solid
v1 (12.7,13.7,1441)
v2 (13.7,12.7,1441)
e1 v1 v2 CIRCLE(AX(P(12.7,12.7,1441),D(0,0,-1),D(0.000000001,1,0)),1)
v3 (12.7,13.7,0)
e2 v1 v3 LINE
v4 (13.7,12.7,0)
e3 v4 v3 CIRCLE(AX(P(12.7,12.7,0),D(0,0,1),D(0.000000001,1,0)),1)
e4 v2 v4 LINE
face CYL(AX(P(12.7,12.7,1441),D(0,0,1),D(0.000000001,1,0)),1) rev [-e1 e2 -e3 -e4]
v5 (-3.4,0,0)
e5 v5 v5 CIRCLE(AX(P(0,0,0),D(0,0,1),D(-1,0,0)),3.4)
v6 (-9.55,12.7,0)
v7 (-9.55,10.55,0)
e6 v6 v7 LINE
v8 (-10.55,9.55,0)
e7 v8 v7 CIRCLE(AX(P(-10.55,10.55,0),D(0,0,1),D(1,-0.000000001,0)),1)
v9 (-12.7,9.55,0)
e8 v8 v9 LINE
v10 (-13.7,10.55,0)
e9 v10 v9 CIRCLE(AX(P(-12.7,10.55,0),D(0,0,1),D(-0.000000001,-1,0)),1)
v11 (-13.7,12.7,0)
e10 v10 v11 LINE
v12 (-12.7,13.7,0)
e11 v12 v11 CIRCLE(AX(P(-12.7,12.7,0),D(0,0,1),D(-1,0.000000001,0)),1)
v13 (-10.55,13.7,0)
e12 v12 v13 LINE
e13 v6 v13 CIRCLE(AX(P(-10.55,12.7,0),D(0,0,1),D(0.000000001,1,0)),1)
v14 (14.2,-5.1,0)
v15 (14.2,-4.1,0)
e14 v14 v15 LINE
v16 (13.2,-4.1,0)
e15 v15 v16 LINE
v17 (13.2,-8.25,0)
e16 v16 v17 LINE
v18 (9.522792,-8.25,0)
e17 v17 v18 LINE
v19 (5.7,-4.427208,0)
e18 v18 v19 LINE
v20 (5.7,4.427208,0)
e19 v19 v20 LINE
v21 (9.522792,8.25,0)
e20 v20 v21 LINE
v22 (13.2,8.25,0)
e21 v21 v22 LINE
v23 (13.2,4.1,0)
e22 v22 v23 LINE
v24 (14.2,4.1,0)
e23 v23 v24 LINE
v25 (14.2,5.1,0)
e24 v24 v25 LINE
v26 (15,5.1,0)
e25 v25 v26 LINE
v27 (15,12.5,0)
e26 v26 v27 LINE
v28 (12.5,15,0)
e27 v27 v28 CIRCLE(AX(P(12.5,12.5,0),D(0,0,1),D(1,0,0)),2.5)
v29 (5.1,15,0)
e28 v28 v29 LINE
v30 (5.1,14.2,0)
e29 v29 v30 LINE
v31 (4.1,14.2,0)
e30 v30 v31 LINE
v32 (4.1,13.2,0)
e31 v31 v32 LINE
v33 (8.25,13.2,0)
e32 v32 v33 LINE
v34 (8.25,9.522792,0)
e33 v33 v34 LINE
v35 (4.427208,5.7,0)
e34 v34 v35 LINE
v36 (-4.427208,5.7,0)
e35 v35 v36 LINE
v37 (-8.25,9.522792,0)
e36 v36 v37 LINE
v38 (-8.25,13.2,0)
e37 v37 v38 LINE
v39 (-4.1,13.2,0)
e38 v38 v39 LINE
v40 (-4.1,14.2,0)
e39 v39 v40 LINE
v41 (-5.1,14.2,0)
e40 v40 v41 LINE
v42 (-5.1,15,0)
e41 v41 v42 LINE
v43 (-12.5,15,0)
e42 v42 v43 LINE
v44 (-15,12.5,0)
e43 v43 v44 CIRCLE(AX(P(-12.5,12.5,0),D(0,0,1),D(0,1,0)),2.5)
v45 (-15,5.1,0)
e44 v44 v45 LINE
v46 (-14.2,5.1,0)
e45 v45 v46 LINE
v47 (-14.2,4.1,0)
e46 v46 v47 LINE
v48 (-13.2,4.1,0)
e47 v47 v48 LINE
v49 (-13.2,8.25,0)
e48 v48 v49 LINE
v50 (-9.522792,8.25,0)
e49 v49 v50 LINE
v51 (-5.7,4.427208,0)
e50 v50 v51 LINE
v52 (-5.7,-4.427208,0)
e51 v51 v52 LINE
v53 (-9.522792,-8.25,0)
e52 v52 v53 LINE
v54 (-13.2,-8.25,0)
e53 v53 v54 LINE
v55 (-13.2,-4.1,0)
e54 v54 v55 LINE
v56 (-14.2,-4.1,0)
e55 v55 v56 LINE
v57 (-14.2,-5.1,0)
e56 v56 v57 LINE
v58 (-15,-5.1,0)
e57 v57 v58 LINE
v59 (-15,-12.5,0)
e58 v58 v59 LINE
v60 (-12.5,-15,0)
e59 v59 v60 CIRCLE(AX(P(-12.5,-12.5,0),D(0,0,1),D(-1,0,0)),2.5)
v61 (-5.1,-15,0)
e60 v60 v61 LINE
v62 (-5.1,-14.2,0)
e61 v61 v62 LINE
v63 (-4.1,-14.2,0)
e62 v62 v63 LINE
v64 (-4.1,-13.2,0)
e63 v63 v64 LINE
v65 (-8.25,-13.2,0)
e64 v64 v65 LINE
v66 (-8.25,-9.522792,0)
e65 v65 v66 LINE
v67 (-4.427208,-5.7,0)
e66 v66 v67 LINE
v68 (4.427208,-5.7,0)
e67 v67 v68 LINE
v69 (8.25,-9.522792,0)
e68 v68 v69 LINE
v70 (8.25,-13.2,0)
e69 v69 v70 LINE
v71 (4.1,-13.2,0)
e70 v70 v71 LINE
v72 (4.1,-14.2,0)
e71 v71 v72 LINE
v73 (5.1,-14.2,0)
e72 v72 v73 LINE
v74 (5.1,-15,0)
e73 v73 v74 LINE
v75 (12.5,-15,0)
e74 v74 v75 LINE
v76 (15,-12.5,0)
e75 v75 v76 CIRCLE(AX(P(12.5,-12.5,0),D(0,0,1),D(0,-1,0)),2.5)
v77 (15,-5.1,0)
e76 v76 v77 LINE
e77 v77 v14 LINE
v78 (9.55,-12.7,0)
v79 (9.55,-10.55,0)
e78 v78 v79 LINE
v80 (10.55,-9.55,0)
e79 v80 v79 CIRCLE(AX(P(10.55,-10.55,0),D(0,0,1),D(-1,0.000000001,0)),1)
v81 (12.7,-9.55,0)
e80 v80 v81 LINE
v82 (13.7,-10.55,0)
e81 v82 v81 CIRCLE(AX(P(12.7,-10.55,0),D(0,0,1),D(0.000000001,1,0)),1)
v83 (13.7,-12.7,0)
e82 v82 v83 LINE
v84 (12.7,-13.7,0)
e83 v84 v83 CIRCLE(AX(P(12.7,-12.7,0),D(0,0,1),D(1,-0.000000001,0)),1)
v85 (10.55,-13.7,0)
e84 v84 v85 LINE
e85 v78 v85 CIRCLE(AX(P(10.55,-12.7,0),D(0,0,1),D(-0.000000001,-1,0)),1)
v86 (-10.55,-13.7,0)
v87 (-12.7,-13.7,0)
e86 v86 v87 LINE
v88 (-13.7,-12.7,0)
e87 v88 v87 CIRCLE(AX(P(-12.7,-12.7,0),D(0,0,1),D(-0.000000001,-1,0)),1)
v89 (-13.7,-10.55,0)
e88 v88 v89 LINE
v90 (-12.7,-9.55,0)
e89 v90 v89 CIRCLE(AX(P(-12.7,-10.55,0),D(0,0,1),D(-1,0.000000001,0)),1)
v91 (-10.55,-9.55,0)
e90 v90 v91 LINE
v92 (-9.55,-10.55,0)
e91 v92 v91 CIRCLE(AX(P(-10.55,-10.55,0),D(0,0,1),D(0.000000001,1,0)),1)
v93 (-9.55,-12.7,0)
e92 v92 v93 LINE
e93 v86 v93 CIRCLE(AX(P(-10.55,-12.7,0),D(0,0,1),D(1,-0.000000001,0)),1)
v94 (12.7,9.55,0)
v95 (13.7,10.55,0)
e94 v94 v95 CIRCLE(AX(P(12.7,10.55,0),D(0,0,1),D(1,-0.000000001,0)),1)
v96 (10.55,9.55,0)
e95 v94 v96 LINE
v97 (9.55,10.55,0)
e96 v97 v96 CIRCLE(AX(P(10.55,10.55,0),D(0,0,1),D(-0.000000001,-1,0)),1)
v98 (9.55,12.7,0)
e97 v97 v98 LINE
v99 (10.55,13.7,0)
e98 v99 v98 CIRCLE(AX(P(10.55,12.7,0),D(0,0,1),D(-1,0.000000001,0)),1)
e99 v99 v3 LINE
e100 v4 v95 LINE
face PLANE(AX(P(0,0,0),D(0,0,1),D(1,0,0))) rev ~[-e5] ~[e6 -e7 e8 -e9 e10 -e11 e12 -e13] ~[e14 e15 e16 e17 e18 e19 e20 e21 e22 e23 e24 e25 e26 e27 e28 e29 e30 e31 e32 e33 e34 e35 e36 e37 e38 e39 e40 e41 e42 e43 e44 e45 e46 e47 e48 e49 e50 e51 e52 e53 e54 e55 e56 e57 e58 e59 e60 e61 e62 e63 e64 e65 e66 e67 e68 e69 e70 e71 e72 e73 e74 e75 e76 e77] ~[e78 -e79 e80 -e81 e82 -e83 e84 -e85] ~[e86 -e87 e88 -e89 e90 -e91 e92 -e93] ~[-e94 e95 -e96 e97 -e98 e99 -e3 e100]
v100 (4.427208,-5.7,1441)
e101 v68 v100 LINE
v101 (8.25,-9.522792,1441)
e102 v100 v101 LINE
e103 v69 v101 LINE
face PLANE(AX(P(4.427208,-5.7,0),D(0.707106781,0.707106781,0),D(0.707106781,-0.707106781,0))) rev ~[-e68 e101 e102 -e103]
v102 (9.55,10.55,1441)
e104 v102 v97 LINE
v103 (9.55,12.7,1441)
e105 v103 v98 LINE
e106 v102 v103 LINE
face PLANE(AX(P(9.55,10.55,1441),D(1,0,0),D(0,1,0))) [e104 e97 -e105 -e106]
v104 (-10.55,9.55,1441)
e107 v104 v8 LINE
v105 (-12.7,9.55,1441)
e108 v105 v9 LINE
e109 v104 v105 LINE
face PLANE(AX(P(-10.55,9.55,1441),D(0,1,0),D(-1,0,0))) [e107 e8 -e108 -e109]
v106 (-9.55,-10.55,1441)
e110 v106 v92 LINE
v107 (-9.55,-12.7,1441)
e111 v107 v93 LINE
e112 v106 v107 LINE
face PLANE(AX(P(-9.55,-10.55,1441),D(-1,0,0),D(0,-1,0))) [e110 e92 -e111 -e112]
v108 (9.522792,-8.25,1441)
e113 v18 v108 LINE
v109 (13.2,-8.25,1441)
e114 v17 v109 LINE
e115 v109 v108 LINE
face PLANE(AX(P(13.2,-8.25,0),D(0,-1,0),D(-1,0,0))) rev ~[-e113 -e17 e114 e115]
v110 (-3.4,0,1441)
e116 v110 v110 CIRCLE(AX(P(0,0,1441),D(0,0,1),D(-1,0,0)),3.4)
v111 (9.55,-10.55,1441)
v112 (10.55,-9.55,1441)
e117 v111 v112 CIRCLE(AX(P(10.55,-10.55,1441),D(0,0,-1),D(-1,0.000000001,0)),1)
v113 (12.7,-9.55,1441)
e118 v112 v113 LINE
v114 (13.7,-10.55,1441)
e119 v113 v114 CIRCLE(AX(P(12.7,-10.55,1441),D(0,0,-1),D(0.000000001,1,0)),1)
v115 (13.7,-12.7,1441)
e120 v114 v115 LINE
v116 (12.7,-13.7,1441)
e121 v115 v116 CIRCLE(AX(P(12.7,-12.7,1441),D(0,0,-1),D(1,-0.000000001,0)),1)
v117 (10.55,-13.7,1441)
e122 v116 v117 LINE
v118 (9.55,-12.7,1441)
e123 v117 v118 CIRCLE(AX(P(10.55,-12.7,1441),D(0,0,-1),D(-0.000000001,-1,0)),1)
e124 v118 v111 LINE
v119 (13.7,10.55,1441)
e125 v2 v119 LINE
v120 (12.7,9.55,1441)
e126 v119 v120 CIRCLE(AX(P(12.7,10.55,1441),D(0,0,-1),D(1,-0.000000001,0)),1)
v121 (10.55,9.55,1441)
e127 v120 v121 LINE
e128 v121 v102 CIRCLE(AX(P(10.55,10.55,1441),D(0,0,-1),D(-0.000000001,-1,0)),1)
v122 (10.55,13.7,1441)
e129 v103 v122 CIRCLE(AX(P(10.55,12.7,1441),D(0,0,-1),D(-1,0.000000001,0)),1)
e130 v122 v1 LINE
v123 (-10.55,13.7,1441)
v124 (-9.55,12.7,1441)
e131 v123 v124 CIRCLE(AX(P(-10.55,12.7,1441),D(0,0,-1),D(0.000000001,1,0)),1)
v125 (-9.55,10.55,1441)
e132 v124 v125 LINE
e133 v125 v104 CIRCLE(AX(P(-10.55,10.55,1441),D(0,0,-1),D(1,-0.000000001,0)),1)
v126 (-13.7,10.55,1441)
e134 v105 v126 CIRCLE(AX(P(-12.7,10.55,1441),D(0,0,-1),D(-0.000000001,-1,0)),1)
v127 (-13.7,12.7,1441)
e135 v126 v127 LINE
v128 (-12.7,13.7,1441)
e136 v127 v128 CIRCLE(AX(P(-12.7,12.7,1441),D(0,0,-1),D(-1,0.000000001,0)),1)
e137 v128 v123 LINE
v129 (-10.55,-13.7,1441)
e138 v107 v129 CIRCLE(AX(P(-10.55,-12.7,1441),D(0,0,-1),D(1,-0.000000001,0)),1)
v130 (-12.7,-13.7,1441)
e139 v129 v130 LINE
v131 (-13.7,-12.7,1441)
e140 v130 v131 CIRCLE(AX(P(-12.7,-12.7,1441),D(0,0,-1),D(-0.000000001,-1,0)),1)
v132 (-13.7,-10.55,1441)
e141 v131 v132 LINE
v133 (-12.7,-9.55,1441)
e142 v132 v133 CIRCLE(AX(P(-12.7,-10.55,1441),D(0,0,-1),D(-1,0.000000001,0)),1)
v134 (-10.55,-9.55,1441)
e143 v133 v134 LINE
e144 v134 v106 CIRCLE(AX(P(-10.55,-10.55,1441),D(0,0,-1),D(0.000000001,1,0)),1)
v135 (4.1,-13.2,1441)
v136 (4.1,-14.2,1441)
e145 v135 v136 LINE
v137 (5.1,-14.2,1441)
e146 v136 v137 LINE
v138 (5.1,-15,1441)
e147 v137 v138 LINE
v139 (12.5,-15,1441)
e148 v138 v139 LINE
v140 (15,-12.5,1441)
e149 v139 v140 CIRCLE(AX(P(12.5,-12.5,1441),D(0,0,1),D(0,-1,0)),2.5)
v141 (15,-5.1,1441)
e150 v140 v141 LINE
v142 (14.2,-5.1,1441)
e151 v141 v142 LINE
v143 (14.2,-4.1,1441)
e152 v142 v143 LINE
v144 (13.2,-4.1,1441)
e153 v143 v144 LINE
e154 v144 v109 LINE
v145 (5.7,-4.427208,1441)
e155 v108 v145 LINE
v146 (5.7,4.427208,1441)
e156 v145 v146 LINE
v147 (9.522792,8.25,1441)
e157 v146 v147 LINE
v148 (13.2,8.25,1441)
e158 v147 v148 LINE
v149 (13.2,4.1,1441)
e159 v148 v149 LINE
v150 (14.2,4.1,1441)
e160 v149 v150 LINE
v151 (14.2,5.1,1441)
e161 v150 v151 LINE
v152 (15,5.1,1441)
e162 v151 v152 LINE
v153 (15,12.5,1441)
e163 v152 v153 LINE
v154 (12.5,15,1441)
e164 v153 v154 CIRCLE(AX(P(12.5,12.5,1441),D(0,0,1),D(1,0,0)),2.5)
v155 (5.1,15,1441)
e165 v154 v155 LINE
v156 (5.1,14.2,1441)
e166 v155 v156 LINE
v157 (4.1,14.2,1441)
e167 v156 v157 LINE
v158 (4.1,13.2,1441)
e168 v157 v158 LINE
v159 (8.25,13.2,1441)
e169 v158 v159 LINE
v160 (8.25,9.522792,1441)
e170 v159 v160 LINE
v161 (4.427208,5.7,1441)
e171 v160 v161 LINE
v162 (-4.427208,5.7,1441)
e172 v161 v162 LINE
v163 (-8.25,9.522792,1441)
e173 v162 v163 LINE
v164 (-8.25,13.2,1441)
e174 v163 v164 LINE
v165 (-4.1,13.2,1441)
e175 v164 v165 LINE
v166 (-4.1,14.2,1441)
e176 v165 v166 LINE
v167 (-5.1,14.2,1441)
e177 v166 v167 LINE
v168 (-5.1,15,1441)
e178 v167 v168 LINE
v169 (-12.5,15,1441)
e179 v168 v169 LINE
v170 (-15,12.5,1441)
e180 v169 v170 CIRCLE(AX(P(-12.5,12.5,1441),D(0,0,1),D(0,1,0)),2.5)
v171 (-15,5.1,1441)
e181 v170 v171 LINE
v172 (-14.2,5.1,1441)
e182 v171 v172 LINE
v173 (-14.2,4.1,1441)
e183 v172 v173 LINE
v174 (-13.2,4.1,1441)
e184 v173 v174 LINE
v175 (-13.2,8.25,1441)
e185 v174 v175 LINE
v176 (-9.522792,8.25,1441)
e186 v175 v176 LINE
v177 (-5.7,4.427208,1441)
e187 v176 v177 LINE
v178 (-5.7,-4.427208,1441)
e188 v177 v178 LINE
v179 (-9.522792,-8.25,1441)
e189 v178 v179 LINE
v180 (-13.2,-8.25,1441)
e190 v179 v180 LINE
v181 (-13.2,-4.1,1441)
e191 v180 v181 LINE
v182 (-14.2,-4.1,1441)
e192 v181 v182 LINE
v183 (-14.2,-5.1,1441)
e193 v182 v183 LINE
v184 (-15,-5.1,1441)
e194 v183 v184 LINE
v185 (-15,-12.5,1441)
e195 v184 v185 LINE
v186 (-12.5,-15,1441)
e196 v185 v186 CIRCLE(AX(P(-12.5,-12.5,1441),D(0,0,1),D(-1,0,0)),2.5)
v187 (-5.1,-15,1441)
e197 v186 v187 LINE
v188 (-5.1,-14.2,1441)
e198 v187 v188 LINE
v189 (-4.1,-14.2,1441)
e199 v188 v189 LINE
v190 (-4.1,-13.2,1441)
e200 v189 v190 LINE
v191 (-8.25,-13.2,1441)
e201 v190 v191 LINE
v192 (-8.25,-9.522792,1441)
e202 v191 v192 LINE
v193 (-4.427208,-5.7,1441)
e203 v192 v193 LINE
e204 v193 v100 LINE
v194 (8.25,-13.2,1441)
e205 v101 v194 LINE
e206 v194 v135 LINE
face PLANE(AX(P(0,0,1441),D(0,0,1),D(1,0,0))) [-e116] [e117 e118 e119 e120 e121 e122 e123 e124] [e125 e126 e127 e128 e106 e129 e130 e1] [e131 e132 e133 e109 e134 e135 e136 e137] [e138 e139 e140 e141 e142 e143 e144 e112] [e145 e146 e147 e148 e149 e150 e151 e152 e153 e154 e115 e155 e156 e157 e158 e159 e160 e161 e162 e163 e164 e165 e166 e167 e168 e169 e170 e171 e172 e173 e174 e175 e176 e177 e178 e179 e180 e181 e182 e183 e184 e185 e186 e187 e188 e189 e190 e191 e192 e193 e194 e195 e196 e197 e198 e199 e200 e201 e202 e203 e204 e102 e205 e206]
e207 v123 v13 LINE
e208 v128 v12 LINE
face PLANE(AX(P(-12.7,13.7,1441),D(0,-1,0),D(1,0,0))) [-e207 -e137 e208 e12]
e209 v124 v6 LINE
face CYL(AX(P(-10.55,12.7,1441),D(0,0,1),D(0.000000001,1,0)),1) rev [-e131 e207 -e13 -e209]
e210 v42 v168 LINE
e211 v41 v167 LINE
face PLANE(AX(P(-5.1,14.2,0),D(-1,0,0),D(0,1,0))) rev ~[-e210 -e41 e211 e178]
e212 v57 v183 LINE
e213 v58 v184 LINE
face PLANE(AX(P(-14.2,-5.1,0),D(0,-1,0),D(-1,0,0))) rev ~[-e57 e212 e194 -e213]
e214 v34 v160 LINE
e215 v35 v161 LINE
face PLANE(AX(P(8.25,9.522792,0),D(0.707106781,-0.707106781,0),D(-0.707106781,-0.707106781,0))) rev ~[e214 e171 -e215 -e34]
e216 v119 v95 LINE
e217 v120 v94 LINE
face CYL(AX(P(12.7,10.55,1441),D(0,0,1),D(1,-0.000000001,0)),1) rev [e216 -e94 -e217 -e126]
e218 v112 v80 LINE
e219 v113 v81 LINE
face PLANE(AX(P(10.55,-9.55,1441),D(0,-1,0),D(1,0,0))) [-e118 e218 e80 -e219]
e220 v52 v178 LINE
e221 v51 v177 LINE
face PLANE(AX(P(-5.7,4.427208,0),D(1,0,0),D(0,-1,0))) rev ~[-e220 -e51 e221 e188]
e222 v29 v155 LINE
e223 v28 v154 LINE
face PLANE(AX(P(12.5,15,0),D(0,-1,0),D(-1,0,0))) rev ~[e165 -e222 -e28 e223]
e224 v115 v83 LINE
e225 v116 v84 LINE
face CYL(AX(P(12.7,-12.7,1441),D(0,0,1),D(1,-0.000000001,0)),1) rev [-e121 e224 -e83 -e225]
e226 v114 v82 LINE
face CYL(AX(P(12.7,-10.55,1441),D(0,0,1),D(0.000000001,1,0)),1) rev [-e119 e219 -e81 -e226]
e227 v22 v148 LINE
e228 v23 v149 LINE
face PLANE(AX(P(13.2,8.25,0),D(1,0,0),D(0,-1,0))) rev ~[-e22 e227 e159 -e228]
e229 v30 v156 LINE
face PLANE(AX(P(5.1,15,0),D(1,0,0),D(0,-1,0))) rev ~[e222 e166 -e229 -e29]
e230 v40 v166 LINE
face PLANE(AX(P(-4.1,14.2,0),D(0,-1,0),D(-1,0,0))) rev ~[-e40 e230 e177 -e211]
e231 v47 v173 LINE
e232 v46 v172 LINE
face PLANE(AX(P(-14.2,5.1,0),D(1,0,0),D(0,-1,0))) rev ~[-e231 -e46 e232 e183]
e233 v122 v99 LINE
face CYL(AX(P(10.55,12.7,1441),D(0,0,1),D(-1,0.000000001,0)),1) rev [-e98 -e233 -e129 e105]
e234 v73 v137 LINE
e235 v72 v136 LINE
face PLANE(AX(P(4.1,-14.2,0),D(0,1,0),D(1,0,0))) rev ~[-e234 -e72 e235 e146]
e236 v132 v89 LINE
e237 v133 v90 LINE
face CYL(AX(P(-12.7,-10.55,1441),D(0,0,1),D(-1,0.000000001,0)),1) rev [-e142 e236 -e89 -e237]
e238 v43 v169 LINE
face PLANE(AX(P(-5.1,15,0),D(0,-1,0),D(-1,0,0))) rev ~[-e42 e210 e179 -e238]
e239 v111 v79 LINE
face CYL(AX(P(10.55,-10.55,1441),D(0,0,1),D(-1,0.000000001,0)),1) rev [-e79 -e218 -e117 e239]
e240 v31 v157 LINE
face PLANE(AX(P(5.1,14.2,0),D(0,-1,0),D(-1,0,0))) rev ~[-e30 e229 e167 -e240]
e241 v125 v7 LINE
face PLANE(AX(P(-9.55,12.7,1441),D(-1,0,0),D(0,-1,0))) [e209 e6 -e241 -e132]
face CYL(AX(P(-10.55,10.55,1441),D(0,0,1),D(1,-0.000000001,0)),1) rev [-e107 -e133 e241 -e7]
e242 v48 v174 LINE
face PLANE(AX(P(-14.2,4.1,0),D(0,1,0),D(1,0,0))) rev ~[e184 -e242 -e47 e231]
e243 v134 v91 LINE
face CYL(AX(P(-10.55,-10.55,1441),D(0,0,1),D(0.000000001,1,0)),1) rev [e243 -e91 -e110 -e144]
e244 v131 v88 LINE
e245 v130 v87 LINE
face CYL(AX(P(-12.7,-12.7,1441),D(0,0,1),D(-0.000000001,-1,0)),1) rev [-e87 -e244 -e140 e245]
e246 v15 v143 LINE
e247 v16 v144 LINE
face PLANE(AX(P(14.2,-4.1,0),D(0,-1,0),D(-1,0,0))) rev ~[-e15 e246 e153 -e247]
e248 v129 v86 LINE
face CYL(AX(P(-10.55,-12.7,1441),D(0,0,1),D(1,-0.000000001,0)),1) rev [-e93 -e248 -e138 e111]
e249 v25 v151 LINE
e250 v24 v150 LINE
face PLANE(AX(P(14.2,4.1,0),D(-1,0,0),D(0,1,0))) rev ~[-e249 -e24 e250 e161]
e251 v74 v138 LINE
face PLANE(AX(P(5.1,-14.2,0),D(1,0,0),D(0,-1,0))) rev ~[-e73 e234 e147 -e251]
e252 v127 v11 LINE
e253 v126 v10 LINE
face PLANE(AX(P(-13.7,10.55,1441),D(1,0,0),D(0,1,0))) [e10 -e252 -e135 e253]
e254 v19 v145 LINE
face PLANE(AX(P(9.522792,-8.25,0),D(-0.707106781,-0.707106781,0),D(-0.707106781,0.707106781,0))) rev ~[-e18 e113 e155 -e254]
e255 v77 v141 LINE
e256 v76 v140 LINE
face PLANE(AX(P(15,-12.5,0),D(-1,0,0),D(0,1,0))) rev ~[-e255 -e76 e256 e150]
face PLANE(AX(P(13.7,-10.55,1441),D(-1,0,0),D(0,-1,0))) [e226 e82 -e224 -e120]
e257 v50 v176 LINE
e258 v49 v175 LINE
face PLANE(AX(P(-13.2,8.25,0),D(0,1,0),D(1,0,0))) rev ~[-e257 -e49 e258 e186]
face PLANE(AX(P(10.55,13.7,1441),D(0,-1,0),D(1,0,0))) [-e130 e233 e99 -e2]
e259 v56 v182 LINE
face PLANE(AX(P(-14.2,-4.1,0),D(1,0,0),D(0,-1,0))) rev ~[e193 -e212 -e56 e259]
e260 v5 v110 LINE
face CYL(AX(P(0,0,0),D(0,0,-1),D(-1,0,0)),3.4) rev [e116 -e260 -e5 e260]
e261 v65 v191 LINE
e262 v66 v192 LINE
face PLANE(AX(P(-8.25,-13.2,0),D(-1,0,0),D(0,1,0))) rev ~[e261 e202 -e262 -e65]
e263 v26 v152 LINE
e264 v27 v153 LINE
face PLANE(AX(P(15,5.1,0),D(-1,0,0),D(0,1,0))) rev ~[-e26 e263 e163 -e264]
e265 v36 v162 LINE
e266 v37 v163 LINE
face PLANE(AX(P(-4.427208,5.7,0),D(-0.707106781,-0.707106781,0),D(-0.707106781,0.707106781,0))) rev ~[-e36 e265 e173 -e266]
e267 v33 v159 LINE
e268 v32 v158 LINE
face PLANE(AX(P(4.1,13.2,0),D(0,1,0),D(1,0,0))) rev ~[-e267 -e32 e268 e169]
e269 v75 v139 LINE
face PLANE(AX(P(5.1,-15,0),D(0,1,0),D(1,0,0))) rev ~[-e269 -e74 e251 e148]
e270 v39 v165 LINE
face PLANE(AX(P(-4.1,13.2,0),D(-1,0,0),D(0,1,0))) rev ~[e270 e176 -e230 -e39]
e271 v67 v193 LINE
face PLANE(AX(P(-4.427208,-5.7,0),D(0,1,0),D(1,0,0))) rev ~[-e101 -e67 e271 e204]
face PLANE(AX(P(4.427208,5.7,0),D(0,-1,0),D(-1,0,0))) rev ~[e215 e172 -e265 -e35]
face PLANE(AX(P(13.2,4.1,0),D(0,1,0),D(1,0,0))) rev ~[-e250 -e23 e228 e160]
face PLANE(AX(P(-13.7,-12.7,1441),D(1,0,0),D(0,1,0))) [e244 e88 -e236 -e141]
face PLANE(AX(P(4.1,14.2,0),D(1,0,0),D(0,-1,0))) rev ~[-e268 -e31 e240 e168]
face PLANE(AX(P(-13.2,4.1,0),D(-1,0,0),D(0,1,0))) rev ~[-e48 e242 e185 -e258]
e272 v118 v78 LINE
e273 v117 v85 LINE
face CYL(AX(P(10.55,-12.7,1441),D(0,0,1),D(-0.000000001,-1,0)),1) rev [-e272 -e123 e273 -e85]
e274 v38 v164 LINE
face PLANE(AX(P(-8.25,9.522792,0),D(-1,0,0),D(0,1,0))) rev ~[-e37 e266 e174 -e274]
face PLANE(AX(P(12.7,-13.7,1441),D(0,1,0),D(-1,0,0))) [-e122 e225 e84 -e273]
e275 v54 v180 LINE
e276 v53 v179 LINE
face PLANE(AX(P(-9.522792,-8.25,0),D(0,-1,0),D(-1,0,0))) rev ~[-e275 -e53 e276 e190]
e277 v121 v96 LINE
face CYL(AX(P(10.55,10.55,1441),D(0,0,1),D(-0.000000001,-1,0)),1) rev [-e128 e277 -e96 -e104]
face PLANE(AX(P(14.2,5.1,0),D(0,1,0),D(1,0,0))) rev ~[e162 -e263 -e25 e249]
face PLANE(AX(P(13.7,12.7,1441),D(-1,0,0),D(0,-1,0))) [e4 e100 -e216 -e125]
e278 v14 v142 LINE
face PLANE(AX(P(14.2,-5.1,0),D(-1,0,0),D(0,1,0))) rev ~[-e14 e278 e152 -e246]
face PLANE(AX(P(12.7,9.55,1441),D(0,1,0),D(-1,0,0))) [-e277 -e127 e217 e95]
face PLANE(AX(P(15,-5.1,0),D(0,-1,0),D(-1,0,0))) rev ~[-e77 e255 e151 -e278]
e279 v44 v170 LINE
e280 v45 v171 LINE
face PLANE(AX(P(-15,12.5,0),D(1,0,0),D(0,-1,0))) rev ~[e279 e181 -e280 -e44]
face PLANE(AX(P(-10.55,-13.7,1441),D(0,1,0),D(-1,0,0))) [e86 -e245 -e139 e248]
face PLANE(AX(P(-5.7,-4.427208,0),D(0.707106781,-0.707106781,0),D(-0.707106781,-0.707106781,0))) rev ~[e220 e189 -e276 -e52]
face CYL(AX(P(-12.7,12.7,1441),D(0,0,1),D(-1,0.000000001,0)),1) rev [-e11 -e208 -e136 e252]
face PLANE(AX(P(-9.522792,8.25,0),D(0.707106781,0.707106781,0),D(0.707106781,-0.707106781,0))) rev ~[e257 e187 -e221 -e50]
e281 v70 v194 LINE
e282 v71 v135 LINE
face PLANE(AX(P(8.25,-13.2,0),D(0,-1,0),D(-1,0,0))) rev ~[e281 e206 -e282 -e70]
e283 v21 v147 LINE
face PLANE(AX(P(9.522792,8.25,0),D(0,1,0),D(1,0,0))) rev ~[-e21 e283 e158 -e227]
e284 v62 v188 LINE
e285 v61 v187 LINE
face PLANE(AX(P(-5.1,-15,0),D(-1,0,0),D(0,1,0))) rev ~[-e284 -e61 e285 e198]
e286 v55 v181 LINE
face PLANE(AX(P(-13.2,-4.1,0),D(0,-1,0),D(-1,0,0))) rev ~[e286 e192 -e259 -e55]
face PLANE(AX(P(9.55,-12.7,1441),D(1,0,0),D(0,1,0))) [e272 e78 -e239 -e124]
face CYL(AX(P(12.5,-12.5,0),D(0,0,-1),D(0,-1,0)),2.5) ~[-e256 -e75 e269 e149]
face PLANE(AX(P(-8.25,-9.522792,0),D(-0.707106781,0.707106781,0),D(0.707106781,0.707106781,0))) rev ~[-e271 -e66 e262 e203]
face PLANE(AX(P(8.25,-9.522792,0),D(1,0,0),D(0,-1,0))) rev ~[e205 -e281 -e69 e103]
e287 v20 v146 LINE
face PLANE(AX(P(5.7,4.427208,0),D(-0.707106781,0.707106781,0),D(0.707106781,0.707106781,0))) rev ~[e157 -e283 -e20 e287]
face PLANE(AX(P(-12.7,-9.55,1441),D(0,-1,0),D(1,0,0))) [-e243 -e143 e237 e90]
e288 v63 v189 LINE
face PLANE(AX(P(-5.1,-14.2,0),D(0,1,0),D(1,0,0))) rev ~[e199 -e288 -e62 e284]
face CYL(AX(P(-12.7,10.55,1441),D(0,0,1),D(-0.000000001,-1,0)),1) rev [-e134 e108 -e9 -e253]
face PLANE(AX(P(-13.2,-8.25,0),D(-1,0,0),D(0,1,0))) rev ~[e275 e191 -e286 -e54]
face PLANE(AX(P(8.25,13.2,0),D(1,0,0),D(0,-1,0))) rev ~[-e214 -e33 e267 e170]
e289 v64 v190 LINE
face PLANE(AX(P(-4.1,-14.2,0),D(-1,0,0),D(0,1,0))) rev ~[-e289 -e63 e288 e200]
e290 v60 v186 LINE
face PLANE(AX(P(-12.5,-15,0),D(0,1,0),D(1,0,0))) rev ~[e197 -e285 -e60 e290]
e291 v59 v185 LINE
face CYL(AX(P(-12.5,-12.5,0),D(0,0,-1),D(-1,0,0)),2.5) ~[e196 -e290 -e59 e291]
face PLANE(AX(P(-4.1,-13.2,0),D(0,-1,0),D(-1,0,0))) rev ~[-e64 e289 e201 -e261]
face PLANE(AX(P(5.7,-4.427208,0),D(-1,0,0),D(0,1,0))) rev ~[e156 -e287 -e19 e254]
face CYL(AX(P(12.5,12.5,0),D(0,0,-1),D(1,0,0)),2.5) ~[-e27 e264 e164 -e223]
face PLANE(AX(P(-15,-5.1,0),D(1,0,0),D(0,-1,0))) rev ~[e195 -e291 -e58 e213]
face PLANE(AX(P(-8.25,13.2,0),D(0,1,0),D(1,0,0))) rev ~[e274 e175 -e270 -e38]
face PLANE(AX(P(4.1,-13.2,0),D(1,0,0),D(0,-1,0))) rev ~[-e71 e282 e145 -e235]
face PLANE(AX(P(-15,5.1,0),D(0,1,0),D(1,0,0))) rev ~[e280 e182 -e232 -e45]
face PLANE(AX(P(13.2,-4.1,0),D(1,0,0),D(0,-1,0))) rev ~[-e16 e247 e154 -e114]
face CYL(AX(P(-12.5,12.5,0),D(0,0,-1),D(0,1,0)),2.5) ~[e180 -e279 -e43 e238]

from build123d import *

# Parameters (mm, degrees)
SKETCH1_R      = 3.4
EXTRUDE1_DEPTH = 1441
EXTRUDE2_DEPTH = 1442.15613311


with BuildPart() as part:
    # Sketch1 → Extrude1 (new body)
    with BuildSketch(Plane.XY):
        with BuildLine():
            Line((-5.1, 14.2), (-5.1, 15))
            Line((-5.1, 15), (-12.5, 15))
            ThreePointArc((-12.5, 15), (-14.267766953, 14.267766953), (-15, 12.5))
            Line((-15, 12.5), (-15, 5.1))
            Line((-15, 5.1), (-14.2, 5.1))
            Line((-14.2, 5.1), (-14.2, 4.1))
            Line((-14.2, 4.1), (-13.2, 4.1))
            Line((-13.2, 4.1), (-13.2, 8.25))
            Line((-13.2, 8.25), (-9.522792206, 8.25))
            Line((-9.522792206, 8.25), (-5.7, 4.427207794))
            Line((-5.7, 4.427207794), (-5.7, -4.427207794))
            Line((-5.7, -4.427207794), (-9.522792206, -8.25))
            Line((-9.522792206, -8.25), (-13.2, -8.25))
            Line((-13.2, -8.25), (-13.2, -4.1))
            Line((-13.2, -4.1), (-14.2, -4.1))
            Line((-14.2, -4.1), (-14.2, -5.1))
            Line((-14.2, -5.1), (-15, -5.1))
            Line((-15, -5.1), (-15, -12.5))
            ThreePointArc((-15, -12.5), (-14.267766953, -14.267766953), (-12.5, -15))
            Line((-12.5, -15), (-5.1, -15))
            Line((-5.1, -15), (-5.1, -14.2))
            Line((-5.1, -14.2), (-4.1, -14.2))
            Line((-4.1, -14.2), (-4.1, -13.2))
            Line((-4.1, -13.2), (-8.25, -13.2))
            Line((-8.25, -13.2), (-8.25, -9.522792206))
            Line((-8.25, -9.522792206), (-4.427207794, -5.7))
            Line((-4.427207794, -5.7), (4.427207794, -5.7))
            Line((4.427207794, -5.7), (8.25, -9.522792206))
            Line((8.25, -9.522792206), (8.25, -13.2))
            Line((8.25, -13.2), (4.1, -13.2))
            Line((4.1, -13.2), (4.1, -14.2))
            Line((4.1, -14.2), (5.1, -14.2))
            Line((5.1, -14.2), (5.1, -15))
            Line((5.1, -15), (12.5, -15))
            ThreePointArc((12.5, -15), (14.267766953, -14.267766953), (15, -12.5))
            Line((15, -12.5), (15, -5.1))
            Line((15, -5.1), (14.2, -5.1))
            Line((14.2, -5.1), (14.2, -4.1))
            Line((14.2, -4.1), (13.2, -4.1))
            Line((13.2, -4.1), (13.2, -8.25))
            Line((13.2, -8.25), (9.522792206, -8.25))
            Line((9.522792206, -8.25), (5.7, -4.427207794))
            Line((5.7, -4.427207794), (5.7, 4.427207794))
            Line((5.7, 4.427207794), (9.522792206, 8.25))
            Line((9.522792206, 8.25), (13.2, 8.25))
            Line((13.2, 8.25), (13.2, 4.1))
            Line((13.2, 4.1), (14.2, 4.1))
            Line((14.2, 4.1), (14.2, 5.1))
            Line((14.2, 5.1), (15, 5.1))
            Line((15, 5.1), (15, 12.5))
            ThreePointArc((15, 12.5), (14.267766953, 14.267766953), (12.5, 15))
            Line((12.5, 15), (5.1, 15))
            Line((5.1, 15), (5.1, 14.2))
            Line((5.1, 14.2), (4.1, 14.2))
            Line((4.1, 14.2), (4.1, 13.2))
            Line((4.1, 13.2), (8.25, 13.2))
            Line((8.25, 13.2), (8.25, 9.522792206))
            Line((8.25, 9.522792206), (4.427207794, 5.7))
            Line((4.427207794, 5.7), (-4.427207794, 5.7))
            Line((-4.427207794, 5.7), (-8.25, 9.522792206))
            Line((-8.25, 9.522792206), (-8.25, 13.2))
            Line((-8.25, 13.2), (-4.1, 13.2))
            Line((-4.1, 13.2), (-4.1, 14.2))
            Line((-4.1, 14.2), (-5.1, 14.2))
        make_face()
        with Locations(Location((0, 0, 0), (0, 0, 180))):
            Circle(SKETCH1_R, mode=Mode.SUBTRACT)
    extrude(amount=EXTRUDE1_DEPTH)

    # Sketch2 → Extrude2 (cut, through all)
    with BuildSketch(Plane.XY.offset(1441)):
        with BuildLine():
            Line((13.7, 12.7), (13.7, 10.55))
            ThreePointArc((13.7, 10.55), (13.407106781, 9.842893219), (12.7, 9.55))
            Line((12.7, 9.55), (10.55, 9.55))
            ThreePointArc((10.55, 9.55), (9.842893219, 9.842893219), (9.55, 10.55))
            Line((9.55, 10.55), (9.55, 12.7))
            ThreePointArc((9.55, 12.7), (9.842893219, 13.407106781), (10.55, 13.7))
            Line((10.55, 13.7), (12.7, 13.7))
            ThreePointArc((12.7, 13.7), (13.407106781, 13.407106781), (13.7, 12.7))
        make_face()
        with BuildLine():
            Line((-12.7, 13.7), (-10.55, 13.7))
            ThreePointArc((-10.55, 13.7), (-9.842893219, 13.407106781), (-9.55, 12.7))
            Line((-9.55, 12.7), (-9.55, 10.55))
            ThreePointArc((-9.55, 10.55), (-9.842893219, 9.842893219), (-10.55, 9.55))
            Line((-10.55, 9.55), (-12.7, 9.55))
            ThreePointArc((-12.7, 9.55), (-13.407106781, 9.842893219), (-13.7, 10.55))
            Line((-13.7, 10.55), (-13.7, 12.7))
            ThreePointArc((-13.7, 12.7), (-13.407106781, 13.407106781), (-12.7, 13.7))
        make_face()
        with BuildLine():
            Line((12.7, -13.7), (10.55, -13.7))
            ThreePointArc((10.55, -13.7), (9.842893219, -13.407106781), (9.55, -12.7))
            Line((9.55, -12.7), (9.55, -10.55))
            ThreePointArc((9.55, -10.55), (9.842893219, -9.842893219), (10.55, -9.55))
            Line((10.55, -9.55), (12.7, -9.55))
            ThreePointArc((12.7, -9.55), (13.407106781, -9.842893219), (13.7, -10.55))
            Line((13.7, -10.55), (13.7, -12.7))
            ThreePointArc((13.7, -12.7), (13.407106781, -13.407106781), (12.7, -13.7))
        make_face()
        with BuildLine():
            Line((-13.7, -12.7), (-13.7, -10.55))
            ThreePointArc((-13.7, -10.55), (-13.407106781, -9.842893219), (-12.7, -9.55))
            Line((-12.7, -9.55), (-10.55, -9.55))
            ThreePointArc((-10.55, -9.55), (-9.842893219, -9.842893219), (-9.55, -10.55))
            Line((-9.55, -10.55), (-9.55, -12.7))
            ThreePointArc((-9.55, -12.7), (-9.842893219, -13.407106781), (-10.55, -13.7))
            Line((-10.55, -13.7), (-12.7, -13.7))
            ThreePointArc((-12.7, -13.7), (-13.407106781, -13.407106781), (-13.7, -12.7))
        make_face()
    extrude(amount=-EXTRUDE2_DEPTH, mode=Mode.SUBTRACT)


solid = part.part
